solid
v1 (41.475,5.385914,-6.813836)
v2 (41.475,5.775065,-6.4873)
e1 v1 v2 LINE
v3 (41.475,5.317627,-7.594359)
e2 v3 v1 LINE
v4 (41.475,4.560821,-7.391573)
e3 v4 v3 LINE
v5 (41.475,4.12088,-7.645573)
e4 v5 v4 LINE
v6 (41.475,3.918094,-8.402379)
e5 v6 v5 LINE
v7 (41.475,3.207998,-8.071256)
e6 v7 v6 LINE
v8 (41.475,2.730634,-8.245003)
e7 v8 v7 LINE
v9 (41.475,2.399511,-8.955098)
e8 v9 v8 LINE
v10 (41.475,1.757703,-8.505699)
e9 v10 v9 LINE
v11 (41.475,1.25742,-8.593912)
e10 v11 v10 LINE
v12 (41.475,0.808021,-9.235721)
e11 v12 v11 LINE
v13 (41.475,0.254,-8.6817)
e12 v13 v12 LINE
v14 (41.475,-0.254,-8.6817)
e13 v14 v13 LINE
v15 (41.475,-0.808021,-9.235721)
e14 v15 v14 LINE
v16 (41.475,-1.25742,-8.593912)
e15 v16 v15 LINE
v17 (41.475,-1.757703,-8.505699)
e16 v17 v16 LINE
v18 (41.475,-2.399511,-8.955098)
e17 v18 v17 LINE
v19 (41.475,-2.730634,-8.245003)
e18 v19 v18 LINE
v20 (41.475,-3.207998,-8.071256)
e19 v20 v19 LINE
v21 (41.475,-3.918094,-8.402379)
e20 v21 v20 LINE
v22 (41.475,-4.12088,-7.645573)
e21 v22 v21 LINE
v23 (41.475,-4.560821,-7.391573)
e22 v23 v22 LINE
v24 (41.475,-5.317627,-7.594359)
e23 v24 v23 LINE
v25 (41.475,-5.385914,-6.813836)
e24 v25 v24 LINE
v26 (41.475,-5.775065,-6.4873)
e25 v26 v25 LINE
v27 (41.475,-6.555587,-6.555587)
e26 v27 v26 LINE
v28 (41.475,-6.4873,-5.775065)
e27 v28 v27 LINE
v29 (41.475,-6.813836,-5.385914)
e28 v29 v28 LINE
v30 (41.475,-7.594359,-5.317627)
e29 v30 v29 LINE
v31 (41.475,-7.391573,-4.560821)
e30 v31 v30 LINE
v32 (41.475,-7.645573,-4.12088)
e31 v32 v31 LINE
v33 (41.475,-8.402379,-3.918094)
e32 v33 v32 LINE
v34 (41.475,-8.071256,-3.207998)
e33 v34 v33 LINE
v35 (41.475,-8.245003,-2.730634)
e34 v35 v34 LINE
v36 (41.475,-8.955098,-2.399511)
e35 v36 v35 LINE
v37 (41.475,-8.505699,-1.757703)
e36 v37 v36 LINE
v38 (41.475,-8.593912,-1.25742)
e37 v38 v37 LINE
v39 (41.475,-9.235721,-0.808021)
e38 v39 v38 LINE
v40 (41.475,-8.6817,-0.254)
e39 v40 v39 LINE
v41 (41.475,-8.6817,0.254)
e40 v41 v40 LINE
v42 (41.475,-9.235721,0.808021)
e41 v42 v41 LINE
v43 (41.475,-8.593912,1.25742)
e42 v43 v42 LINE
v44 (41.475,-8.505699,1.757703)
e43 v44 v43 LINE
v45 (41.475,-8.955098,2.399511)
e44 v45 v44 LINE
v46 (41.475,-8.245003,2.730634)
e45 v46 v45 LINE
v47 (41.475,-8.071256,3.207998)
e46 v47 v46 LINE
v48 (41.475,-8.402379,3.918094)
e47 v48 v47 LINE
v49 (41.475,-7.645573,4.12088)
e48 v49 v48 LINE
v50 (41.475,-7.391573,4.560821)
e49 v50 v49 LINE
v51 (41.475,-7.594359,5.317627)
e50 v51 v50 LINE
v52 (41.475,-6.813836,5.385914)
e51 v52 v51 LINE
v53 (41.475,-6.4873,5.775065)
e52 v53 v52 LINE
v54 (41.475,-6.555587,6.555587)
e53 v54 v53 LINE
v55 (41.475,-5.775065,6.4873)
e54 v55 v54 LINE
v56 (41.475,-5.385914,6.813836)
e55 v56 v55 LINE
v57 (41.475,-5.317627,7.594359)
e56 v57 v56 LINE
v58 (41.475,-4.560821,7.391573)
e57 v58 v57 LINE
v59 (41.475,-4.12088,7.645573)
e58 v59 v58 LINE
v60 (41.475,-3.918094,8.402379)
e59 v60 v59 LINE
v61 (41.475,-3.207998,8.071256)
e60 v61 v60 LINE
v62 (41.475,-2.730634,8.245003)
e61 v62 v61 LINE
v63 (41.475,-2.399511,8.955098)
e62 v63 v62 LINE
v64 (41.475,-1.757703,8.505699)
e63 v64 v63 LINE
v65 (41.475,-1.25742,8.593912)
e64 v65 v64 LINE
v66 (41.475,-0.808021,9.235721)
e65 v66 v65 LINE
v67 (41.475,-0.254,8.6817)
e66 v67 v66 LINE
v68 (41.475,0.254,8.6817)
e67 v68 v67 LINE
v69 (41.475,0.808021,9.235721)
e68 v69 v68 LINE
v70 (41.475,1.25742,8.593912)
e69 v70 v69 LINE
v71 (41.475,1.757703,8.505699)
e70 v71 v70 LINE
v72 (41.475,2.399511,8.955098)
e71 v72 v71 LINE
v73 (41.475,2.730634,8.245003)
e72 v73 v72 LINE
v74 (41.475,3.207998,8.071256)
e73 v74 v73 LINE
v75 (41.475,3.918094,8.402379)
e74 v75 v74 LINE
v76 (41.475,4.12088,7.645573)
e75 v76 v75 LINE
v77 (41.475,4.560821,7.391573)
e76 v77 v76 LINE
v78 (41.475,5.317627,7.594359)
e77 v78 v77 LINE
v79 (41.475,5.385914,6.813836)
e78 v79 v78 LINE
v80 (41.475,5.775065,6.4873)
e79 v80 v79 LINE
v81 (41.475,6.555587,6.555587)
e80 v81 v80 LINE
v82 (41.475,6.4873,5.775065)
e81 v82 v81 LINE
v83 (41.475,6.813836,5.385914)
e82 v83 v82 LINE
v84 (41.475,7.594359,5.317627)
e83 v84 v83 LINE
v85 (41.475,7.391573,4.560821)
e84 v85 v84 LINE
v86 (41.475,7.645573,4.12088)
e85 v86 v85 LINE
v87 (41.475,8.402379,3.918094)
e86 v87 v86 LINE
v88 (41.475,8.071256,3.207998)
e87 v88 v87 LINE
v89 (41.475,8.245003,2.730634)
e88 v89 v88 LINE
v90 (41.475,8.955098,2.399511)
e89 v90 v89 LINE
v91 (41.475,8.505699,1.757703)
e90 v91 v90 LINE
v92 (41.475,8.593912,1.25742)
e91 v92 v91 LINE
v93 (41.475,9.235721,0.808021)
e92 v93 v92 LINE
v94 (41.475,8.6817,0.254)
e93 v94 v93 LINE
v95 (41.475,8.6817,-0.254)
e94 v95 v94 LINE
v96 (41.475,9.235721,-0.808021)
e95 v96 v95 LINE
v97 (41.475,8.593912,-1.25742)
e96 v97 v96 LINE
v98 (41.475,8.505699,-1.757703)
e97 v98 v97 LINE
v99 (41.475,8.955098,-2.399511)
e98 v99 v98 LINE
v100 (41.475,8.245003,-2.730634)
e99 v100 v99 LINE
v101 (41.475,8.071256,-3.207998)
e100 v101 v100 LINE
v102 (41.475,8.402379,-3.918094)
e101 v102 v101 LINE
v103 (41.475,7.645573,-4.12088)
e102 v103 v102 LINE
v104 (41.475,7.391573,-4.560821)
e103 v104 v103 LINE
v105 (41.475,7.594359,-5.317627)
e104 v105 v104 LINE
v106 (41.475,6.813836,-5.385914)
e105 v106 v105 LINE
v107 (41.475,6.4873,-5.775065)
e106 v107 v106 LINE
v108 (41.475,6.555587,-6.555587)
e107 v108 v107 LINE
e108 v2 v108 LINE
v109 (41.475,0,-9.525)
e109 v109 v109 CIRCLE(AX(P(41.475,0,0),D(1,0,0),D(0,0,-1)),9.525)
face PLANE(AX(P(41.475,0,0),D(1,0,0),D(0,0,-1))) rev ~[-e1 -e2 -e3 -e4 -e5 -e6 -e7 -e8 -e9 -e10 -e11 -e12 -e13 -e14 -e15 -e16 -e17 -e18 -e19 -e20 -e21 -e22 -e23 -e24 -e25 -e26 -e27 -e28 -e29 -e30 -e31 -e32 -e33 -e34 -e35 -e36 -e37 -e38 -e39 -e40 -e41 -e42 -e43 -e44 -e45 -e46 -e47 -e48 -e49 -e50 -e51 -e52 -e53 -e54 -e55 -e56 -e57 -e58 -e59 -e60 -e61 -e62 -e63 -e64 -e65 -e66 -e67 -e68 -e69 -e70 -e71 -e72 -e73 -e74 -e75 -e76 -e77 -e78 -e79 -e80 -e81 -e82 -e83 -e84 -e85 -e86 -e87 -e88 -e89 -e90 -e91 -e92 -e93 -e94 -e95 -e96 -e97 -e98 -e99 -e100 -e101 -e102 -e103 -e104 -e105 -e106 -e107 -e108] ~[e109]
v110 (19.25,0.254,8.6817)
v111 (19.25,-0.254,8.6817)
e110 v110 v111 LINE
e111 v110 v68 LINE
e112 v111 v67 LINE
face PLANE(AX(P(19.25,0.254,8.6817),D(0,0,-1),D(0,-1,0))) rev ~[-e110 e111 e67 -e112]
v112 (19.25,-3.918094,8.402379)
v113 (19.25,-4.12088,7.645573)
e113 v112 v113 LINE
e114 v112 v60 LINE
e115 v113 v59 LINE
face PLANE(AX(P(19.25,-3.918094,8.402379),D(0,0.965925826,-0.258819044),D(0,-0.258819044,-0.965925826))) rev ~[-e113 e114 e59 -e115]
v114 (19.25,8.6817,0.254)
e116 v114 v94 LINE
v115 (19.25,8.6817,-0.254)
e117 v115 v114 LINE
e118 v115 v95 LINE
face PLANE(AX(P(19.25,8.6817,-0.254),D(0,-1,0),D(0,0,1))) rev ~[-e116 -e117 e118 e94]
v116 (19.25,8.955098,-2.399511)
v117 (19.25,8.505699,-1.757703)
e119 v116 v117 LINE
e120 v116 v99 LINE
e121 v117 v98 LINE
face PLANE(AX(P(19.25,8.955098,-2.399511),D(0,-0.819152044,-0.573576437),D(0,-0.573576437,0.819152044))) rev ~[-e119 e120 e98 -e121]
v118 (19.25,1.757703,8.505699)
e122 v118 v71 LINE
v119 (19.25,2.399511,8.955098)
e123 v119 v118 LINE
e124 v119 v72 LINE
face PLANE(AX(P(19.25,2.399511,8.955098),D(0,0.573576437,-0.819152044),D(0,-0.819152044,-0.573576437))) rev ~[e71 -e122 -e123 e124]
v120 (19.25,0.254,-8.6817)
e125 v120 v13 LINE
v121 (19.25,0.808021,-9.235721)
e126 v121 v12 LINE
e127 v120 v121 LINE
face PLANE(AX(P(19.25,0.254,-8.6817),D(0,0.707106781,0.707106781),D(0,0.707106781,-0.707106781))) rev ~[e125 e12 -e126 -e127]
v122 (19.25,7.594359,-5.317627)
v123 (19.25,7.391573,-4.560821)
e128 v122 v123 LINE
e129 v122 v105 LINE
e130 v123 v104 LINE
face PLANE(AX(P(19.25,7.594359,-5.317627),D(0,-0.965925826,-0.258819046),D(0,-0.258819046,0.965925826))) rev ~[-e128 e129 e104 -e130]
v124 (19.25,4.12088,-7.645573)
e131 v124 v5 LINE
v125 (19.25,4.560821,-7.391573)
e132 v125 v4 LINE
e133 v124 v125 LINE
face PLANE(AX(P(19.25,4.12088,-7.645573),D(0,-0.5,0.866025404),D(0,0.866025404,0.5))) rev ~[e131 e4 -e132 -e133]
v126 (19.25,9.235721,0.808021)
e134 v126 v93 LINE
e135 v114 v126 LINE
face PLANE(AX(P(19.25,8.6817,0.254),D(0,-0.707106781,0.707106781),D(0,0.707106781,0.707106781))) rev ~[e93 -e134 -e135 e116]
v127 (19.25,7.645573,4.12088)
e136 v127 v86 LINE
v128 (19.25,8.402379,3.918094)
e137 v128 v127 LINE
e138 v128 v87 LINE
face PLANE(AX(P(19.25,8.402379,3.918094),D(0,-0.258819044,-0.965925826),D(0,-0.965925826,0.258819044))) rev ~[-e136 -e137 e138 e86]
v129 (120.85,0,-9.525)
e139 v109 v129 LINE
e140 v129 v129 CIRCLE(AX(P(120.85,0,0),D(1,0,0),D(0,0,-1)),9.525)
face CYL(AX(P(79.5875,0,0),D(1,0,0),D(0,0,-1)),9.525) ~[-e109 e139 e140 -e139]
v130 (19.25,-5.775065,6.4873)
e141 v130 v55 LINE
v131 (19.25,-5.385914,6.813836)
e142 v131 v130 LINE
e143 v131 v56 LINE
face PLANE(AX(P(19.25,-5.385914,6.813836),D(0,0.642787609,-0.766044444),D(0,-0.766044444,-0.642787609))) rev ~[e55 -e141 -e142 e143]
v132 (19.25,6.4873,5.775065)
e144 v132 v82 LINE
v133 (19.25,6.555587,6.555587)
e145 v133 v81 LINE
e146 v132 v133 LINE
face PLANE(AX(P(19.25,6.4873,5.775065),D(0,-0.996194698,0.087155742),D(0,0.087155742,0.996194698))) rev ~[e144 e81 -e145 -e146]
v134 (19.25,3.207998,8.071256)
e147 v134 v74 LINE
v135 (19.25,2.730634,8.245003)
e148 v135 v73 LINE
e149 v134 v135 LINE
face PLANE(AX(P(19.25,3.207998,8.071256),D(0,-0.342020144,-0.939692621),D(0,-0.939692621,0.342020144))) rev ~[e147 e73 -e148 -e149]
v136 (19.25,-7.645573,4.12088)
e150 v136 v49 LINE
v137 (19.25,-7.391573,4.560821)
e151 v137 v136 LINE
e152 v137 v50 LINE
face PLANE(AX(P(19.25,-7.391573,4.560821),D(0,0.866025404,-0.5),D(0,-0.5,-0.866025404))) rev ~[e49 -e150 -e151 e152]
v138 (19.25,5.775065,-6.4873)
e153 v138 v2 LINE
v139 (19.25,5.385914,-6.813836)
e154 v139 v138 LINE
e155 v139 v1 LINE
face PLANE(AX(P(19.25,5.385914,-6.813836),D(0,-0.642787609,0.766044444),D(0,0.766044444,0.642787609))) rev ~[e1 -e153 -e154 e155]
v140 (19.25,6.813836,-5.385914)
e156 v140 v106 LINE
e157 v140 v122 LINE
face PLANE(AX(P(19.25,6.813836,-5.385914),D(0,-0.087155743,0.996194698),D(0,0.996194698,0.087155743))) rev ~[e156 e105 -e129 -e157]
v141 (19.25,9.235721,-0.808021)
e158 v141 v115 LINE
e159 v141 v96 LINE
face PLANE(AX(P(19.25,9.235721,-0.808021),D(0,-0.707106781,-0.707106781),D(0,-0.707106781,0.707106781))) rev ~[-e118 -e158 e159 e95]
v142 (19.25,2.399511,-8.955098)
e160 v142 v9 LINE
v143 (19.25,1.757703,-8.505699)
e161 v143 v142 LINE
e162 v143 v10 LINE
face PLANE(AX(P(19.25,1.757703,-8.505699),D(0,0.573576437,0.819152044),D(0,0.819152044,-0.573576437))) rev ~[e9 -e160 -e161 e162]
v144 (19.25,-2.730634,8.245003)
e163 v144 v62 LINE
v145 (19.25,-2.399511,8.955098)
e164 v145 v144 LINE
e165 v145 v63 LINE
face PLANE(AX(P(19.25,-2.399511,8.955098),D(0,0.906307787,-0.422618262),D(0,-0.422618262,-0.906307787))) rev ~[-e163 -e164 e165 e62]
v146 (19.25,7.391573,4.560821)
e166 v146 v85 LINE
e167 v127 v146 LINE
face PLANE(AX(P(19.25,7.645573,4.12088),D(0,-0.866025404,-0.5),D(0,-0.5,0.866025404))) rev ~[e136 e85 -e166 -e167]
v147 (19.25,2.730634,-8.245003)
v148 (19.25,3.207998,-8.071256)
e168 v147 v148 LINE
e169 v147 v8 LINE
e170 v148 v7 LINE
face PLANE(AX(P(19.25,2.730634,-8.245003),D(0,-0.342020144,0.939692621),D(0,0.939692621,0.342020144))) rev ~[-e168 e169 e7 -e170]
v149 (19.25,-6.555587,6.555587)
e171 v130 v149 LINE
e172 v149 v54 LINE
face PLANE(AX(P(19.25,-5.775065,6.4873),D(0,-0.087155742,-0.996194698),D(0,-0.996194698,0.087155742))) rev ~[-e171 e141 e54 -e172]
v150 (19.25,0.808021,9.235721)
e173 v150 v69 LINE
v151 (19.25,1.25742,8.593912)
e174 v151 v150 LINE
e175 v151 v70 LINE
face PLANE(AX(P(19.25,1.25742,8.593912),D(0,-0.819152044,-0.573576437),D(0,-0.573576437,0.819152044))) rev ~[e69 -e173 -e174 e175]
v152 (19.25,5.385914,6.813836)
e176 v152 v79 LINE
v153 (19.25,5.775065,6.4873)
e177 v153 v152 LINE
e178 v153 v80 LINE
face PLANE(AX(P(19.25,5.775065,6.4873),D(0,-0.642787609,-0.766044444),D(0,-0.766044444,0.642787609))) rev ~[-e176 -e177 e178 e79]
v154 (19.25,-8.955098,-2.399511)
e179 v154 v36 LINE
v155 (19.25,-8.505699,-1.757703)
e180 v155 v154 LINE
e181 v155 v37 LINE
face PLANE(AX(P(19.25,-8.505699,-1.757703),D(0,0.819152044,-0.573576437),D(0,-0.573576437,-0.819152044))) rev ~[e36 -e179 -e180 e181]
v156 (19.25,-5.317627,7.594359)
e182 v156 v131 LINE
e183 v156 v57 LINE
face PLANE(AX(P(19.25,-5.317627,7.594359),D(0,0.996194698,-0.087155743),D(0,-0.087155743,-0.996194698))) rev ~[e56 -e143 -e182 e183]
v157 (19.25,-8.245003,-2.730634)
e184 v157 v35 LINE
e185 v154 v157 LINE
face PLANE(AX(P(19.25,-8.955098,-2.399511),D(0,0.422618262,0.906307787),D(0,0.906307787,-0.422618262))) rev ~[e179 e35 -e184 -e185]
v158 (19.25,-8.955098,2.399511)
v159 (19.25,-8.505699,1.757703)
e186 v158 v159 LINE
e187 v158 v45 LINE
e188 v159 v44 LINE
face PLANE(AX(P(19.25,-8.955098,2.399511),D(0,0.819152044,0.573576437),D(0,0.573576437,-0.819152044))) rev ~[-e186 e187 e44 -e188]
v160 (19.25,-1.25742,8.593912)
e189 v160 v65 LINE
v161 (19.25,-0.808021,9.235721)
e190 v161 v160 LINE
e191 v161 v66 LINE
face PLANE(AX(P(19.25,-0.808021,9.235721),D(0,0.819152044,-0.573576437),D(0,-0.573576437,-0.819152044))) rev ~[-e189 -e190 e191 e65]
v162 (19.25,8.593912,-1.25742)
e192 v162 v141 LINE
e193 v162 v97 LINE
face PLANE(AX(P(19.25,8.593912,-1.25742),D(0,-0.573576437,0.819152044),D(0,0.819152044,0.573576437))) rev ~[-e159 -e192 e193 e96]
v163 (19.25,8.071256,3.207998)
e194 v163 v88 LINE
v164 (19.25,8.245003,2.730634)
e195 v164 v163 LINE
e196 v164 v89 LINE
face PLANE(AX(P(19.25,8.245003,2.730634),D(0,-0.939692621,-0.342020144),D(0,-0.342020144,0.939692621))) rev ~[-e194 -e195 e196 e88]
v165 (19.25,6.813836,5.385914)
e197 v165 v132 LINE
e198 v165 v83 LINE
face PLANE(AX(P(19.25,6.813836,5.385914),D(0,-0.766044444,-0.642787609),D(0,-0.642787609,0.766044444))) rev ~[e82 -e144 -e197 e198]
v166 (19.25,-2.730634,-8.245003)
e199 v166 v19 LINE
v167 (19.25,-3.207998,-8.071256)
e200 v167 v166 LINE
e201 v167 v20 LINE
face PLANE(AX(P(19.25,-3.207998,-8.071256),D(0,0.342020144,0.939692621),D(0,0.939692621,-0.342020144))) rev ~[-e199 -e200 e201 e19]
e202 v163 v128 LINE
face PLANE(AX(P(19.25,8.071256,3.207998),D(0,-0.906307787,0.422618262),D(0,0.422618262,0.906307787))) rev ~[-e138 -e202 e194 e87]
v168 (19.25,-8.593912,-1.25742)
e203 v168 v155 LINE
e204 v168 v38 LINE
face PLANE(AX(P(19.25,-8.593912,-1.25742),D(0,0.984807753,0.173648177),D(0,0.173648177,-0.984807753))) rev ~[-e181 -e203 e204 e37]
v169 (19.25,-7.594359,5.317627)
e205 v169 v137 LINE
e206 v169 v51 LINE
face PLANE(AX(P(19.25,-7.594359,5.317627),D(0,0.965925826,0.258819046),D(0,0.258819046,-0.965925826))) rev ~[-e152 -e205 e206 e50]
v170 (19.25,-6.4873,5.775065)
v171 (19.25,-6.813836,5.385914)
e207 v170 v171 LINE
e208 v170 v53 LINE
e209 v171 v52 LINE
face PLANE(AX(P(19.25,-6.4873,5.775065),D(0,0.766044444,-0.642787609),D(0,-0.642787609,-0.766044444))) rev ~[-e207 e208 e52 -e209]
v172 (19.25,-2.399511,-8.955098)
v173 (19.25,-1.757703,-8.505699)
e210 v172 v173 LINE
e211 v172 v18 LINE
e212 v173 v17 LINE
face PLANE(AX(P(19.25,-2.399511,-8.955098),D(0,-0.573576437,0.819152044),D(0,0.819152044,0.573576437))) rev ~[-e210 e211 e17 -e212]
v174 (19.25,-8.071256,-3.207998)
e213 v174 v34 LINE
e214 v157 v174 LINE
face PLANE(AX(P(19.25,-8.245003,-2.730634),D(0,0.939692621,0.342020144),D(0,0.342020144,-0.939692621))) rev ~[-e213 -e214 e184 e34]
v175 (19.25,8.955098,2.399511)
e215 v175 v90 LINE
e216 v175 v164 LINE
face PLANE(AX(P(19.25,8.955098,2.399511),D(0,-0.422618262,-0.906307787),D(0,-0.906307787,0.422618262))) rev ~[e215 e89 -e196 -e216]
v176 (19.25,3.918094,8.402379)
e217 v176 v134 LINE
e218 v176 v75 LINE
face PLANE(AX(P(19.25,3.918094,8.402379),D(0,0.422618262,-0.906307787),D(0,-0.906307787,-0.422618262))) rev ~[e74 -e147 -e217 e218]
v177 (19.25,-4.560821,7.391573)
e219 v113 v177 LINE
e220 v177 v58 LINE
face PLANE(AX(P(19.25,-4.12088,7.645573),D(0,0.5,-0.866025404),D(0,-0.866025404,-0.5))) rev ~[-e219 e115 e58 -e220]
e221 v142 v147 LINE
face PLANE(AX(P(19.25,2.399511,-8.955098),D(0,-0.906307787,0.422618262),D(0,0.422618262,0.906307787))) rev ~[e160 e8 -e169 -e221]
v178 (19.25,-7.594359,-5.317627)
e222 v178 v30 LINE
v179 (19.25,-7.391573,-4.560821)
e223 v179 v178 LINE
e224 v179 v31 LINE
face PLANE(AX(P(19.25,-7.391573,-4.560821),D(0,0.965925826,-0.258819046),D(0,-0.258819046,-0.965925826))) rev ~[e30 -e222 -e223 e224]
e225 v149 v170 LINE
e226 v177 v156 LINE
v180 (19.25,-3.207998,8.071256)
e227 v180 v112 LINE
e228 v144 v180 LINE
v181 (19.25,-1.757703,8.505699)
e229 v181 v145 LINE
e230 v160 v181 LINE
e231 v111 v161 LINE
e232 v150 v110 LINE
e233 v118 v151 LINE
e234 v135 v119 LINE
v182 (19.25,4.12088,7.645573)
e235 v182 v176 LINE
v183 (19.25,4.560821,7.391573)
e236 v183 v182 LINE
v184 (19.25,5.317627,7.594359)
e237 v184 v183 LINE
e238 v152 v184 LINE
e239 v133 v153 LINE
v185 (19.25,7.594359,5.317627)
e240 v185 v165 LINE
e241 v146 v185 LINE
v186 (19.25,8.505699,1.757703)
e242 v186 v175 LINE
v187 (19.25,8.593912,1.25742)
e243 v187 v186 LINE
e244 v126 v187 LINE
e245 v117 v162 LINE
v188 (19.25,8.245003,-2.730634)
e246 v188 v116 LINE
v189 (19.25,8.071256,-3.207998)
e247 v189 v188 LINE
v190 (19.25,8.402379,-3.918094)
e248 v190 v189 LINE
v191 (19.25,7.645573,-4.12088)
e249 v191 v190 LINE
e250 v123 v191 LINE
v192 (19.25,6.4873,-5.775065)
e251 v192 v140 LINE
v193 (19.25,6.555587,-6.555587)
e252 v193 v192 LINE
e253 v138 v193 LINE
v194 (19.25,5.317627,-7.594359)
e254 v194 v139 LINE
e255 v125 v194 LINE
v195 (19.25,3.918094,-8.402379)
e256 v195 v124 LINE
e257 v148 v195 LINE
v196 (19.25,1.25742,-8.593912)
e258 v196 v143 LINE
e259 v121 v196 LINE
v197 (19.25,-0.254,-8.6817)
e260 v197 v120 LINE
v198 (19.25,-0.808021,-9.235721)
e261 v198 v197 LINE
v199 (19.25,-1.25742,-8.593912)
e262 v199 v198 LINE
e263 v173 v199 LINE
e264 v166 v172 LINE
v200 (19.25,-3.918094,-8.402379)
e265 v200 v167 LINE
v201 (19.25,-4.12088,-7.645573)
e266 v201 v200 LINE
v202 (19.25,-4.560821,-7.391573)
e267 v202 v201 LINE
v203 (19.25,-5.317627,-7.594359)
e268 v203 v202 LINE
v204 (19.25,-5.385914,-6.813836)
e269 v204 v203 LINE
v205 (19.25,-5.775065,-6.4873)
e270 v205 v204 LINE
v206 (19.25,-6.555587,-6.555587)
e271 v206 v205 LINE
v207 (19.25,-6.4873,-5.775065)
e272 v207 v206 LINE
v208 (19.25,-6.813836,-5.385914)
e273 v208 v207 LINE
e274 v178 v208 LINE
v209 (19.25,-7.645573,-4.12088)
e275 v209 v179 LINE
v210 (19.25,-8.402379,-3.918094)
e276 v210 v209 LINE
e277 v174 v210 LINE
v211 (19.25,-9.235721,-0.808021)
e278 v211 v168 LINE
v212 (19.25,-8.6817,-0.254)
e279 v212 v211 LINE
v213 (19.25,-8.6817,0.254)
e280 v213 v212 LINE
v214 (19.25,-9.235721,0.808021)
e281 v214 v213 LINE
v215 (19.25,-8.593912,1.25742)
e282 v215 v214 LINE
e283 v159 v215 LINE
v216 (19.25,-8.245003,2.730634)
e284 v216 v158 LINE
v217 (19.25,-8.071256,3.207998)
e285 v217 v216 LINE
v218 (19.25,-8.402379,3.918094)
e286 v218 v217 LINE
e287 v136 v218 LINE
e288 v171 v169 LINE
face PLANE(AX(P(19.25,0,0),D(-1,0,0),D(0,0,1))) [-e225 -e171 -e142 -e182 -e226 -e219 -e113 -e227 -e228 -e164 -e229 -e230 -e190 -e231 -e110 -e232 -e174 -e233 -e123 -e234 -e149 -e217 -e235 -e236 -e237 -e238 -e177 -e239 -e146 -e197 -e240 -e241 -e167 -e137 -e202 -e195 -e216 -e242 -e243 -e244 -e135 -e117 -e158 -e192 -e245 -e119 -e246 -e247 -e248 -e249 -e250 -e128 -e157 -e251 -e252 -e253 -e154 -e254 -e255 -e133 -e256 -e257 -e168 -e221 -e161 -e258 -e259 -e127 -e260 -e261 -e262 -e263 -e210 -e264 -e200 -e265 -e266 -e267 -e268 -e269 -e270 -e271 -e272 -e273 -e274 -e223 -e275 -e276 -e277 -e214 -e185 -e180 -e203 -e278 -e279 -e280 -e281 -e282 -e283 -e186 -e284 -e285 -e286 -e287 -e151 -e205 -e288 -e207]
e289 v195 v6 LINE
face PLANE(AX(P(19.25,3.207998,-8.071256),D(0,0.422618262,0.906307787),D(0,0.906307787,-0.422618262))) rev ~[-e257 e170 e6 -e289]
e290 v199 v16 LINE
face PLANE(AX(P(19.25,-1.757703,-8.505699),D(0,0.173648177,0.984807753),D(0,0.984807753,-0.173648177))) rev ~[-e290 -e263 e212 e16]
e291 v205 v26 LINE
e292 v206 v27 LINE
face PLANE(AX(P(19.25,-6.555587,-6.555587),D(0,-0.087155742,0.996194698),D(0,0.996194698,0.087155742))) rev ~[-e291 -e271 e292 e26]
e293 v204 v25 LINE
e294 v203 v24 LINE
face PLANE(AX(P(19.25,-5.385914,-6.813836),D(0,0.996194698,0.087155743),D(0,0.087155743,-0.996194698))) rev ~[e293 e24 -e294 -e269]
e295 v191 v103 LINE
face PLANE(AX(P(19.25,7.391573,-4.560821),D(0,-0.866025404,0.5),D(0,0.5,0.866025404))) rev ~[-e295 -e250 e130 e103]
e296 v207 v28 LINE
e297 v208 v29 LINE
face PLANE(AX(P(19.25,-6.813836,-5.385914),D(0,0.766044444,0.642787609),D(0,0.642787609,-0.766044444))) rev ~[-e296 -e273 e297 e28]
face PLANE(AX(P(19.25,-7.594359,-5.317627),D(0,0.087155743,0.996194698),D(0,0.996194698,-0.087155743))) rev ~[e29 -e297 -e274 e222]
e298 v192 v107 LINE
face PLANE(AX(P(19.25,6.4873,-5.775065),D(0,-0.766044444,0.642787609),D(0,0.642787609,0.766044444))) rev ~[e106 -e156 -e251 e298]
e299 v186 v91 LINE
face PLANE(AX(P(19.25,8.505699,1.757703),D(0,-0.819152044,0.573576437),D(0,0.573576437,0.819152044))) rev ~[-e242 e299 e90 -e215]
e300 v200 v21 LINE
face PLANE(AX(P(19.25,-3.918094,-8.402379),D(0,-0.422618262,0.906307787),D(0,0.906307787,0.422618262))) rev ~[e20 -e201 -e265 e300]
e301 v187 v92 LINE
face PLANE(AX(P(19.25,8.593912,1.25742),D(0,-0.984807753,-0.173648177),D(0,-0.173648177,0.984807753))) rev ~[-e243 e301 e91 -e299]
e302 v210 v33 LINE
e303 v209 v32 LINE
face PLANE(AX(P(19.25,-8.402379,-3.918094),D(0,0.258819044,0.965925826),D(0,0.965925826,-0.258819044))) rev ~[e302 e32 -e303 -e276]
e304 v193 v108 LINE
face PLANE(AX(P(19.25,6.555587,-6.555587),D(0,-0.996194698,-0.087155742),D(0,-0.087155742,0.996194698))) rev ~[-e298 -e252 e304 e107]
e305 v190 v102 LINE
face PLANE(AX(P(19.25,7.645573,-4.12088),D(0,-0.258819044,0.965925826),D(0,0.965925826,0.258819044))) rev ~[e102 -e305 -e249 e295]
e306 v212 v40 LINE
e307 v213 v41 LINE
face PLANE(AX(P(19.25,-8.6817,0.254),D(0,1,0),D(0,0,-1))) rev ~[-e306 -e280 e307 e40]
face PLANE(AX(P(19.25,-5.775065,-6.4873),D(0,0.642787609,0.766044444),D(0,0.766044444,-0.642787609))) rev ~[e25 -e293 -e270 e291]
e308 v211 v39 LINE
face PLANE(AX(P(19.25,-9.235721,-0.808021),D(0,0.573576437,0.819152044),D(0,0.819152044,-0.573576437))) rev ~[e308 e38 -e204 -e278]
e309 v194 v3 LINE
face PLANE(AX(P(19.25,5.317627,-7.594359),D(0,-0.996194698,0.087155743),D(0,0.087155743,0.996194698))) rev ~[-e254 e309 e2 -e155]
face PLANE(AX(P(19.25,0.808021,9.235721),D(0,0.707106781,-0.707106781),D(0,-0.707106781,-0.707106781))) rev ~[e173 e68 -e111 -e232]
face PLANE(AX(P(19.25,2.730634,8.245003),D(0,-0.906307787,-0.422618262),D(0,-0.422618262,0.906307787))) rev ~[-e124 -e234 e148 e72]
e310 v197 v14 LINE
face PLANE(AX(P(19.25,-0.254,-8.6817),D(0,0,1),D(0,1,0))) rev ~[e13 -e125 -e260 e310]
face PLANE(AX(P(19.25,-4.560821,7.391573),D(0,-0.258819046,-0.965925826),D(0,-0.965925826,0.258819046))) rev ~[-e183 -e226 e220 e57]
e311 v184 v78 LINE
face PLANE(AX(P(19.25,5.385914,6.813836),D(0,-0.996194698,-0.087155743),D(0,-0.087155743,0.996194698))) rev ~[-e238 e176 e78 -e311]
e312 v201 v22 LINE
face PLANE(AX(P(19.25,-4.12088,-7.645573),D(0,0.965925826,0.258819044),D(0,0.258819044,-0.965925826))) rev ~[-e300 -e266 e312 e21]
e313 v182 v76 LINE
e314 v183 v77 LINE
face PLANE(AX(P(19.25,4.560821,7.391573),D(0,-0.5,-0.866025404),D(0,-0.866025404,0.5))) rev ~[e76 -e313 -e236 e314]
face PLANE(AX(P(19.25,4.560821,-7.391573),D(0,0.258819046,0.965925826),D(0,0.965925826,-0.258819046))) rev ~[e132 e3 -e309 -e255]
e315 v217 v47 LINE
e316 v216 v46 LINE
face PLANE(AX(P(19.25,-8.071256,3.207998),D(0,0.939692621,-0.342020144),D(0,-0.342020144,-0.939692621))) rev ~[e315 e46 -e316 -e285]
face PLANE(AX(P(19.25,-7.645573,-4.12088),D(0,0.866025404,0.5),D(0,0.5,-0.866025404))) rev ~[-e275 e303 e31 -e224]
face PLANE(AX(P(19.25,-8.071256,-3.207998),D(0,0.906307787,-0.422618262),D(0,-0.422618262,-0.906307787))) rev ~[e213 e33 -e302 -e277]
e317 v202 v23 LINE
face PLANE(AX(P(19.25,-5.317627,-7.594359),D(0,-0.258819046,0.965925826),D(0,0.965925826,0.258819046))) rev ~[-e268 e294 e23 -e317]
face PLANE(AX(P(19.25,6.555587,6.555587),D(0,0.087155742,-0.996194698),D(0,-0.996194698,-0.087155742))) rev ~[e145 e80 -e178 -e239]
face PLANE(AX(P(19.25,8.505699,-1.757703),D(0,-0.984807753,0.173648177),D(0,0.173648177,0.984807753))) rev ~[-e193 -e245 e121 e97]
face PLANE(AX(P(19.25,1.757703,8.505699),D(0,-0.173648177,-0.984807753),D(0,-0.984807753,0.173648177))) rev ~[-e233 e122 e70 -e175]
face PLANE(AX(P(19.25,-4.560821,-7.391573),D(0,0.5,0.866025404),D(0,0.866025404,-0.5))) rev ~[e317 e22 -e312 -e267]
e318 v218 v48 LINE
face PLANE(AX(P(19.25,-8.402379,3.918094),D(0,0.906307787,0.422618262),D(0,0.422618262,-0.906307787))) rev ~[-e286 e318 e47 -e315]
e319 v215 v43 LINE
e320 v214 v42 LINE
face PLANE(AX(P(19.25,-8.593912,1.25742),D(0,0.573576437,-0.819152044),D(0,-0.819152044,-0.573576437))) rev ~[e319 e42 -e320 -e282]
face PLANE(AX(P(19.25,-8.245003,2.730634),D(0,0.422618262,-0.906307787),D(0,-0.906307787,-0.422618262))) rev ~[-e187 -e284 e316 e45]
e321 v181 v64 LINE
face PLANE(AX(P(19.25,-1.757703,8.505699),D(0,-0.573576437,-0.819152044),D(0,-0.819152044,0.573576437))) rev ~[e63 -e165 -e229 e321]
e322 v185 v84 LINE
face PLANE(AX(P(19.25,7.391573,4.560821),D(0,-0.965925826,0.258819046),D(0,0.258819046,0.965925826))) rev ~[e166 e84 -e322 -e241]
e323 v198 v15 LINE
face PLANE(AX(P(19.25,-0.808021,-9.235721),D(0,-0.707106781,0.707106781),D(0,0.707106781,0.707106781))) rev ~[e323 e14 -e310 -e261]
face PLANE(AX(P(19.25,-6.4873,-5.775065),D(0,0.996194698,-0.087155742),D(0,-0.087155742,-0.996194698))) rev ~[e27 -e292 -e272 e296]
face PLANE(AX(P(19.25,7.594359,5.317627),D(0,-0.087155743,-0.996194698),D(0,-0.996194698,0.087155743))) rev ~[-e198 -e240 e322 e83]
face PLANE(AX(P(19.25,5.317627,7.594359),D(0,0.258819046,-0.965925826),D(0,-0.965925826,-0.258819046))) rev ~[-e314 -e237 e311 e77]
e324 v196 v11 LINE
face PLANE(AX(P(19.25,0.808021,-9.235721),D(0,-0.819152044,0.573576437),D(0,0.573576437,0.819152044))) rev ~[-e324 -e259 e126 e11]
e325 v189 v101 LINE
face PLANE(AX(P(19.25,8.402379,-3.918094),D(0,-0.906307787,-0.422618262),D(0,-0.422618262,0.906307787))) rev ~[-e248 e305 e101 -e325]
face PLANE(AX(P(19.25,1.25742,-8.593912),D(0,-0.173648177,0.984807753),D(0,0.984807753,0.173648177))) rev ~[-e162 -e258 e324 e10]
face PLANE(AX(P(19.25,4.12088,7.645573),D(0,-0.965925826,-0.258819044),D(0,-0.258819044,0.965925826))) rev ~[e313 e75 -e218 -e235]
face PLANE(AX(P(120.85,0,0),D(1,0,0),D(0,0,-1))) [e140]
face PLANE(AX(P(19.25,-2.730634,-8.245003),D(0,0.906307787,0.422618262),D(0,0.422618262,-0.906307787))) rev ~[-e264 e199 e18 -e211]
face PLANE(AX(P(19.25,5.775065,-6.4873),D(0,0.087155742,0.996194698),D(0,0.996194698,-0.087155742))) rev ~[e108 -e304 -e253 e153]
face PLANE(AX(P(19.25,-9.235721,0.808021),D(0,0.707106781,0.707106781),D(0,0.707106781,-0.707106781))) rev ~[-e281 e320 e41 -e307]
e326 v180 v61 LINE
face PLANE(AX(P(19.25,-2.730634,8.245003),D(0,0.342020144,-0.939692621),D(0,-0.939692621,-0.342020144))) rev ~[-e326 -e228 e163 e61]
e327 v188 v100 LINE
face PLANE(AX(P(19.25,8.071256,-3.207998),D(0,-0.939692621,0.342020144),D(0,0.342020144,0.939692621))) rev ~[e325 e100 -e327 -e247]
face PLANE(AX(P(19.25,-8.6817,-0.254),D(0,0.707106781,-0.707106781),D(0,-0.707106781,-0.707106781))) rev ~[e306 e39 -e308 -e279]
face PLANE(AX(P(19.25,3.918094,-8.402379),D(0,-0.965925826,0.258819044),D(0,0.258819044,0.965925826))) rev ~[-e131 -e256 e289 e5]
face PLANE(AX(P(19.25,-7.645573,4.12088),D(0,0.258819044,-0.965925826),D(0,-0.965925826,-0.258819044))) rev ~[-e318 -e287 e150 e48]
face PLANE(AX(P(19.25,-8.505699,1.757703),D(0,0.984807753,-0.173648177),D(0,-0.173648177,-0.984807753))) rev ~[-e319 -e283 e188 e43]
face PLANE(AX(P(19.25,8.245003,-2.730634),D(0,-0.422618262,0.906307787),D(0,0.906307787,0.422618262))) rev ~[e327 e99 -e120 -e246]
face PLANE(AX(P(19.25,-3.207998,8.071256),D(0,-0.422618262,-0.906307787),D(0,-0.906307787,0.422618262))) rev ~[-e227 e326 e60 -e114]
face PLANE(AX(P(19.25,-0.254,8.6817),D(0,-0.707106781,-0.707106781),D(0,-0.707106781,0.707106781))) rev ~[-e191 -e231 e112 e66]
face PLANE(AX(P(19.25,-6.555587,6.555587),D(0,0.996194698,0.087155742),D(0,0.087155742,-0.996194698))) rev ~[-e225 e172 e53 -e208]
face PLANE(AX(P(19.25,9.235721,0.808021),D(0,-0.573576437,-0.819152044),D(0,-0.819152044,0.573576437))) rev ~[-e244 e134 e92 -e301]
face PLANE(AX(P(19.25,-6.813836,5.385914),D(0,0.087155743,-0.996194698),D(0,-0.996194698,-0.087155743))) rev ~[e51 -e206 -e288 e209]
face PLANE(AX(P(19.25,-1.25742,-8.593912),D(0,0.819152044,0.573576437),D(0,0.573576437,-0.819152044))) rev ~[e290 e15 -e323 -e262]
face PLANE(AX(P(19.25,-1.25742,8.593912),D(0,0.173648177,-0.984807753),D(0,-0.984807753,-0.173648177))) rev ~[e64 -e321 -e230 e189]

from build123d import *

# Parameters (mm, degrees)
SKETCH1_W           = 120.675
SKETCH1_H           = 1.5875
CUT_EXTRUDE2_START  = 19.25
SKETCH4_R           = 12.7
CUT_EXTRUDE2_DEPTH  = 22.225
SKETCH6_R           = 7.9375
BOSS_EXTRUDE1_DEPTH = 101.6
SKETCH7_R           = 23.308025585
CUT_EXTRUDE3_DEPTH  = 19.075


with BuildPart() as part:
    # Sketch1 → Revolve1 (revolve)
    with BuildSketch(Plane(origin=(0, 0, 0), x_dir=(1, 0, 0), z_dir=(0, 1, 0))):
        with Locations((79.5875, 8.73125)):
            Rectangle(SKETCH1_W, SKETCH1_H)
    revolve(axis=Axis((157.324, 0, 0), (-1, 0, 0)))

    # Sketch4 → Cut-Extrude2 (cut)
    with BuildSketch(Plane(origin=(0, 0, 0), x_dir=(0, 0, -1), z_dir=(1, 0, 0)).offset(CUT_EXTRUDE2_START)):
        Circle(SKETCH4_R)
        Polygon((-9.235721046, 0.808020891), (-8.681700155, 0.254), (-8.681700155, -0.254), (-9.235721046, -0.808020891), (-8.593912259, -1.257420242), (-8.505698985, -1.75770258), (-8.955098336, -2.399511367), (-8.245002688, -2.730634406), (-8.071256455, -3.207998257), (-8.402379494, -3.918093905), (-7.645572882, -4.120879625), (-7.391572882, -4.56082053), (-7.594358603, -5.317627141), (-6.813836213, -5.385914002), (-6.487300108, -5.775064579), (-6.555586968, -6.555586968), (-5.775064579, -6.487300108), (-5.385914002, -6.813836213), (-5.317627141, -7.594358603), (-4.56082053, -7.391572882), (-4.120879625, -7.645572882), (-3.918093905, -8.402379494), (-3.207998257, -8.071256455), (-2.730634406, -8.245002688), (-2.399511367, -8.955098336), (-1.75770258, -8.505698985), (-1.257420242, -8.593912259), (-0.808020891, -9.235721046), (-0.254, -8.681700155), (0.254, -8.681700155), (0.808020891, -9.235721046), (1.257420242, -8.593912259), (1.75770258, -8.505698985), (2.399511367, -8.955098336), (2.730634406, -8.245002688), (3.207998257, -8.071256455), (3.918093905, -8.402379494), (4.120879625, -7.645572882), (4.56082053, -7.391572882), (5.317627141, -7.594358603), (5.385914002, -6.813836213), (5.775064579, -6.487300108), (6.555586968, -6.555586968), (6.487300108, -5.775064579), (6.813836213, -5.385914002), (7.594358603, -5.317627141), (7.391572882, -4.56082053), (7.645572882, -4.120879625), (8.402379494, -3.918093905), (8.071256455, -3.207998257), (8.245002688, -2.730634406), (8.955098336, -2.399511367), (8.505698985, -1.75770258), (8.593912259, -1.257420242), (9.235721046, -0.808020891), (8.681700155, -0.254), (8.681700155, 0.254), (9.235721046, 0.808020891), (8.593912259, 1.257420242), (8.505698985, 1.75770258), (8.955098336, 2.399511367), (8.245002688, 2.730634406), (8.071256455, 3.207998257), (8.402379494, 3.918093905), (7.645572882, 4.120879625), (7.391572882, 4.56082053), (7.594358603, 5.317627141), (6.813836213, 5.385914002), (6.487300108, 5.775064579), (6.555586968, 6.555586968), (5.775064579, 6.487300108), (5.385914002, 6.813836213), (5.317627141, 7.594358603), (4.56082053, 7.391572882), (4.120879625, 7.645572882), (3.918093905, 8.402379494), (3.207998257, 8.071256455), (2.730634406, 8.245002688), (2.399511367, 8.955098336), (1.75770258, 8.505698985), (1.257420242, 8.593912259), (0.808020891, 9.235721046), (0.254, 8.681700155), (-0.254, 8.681700155), (-0.808020891, 9.235721046), (-1.257420242, 8.593912259), (-1.75770258, 8.505698985), (-2.399511367, 8.955098336), (-2.730634406, 8.245002688), (-3.207998257, 8.071256455), (-3.918093905, 8.402379494), (-4.120879625, 7.645572882), (-4.56082053, 7.391572882), (-5.317627141, 7.594358603), (-5.385914002, 6.813836213), (-5.775064579, 6.487300108), (-6.555586968, 6.555586968), (-6.487300108, 5.775064579), (-6.813836213, 5.385914002), (-7.594358603, 5.317627141), (-7.391572882, 4.56082053), (-7.645572882, 4.120879625), (-8.402379494, 3.918093905), (-8.071256455, 3.207998257), (-8.245002688, 2.730634406), (-8.955098336, 2.399511367), (-8.505698985, 1.75770258), (-8.593912259, 1.257420242), align=None, mode=Mode.SUBTRACT)
    extrude(amount=CUT_EXTRUDE2_DEPTH, mode=Mode.SUBTRACT)

    # Sketch6 → Boss-Extrude1 (add)
    with BuildSketch(Plane.ZY.offset(-19.25)):
        Circle(SKETCH6_R)
    extrude(amount=-BOSS_EXTRUDE1_DEPTH)

    # Sketch7 → Cut-Extrude3 (cut)
    with BuildSketch(Plane(origin=(120.85, 0, 0), x_dir=(0, 0, -1), z_dir=(1, 0, 0))):
        Circle(SKETCH7_R)
    extrude(amount=CUT_EXTRUDE3_DEPTH, mode=Mode.SUBTRACT)


solid = part.part
